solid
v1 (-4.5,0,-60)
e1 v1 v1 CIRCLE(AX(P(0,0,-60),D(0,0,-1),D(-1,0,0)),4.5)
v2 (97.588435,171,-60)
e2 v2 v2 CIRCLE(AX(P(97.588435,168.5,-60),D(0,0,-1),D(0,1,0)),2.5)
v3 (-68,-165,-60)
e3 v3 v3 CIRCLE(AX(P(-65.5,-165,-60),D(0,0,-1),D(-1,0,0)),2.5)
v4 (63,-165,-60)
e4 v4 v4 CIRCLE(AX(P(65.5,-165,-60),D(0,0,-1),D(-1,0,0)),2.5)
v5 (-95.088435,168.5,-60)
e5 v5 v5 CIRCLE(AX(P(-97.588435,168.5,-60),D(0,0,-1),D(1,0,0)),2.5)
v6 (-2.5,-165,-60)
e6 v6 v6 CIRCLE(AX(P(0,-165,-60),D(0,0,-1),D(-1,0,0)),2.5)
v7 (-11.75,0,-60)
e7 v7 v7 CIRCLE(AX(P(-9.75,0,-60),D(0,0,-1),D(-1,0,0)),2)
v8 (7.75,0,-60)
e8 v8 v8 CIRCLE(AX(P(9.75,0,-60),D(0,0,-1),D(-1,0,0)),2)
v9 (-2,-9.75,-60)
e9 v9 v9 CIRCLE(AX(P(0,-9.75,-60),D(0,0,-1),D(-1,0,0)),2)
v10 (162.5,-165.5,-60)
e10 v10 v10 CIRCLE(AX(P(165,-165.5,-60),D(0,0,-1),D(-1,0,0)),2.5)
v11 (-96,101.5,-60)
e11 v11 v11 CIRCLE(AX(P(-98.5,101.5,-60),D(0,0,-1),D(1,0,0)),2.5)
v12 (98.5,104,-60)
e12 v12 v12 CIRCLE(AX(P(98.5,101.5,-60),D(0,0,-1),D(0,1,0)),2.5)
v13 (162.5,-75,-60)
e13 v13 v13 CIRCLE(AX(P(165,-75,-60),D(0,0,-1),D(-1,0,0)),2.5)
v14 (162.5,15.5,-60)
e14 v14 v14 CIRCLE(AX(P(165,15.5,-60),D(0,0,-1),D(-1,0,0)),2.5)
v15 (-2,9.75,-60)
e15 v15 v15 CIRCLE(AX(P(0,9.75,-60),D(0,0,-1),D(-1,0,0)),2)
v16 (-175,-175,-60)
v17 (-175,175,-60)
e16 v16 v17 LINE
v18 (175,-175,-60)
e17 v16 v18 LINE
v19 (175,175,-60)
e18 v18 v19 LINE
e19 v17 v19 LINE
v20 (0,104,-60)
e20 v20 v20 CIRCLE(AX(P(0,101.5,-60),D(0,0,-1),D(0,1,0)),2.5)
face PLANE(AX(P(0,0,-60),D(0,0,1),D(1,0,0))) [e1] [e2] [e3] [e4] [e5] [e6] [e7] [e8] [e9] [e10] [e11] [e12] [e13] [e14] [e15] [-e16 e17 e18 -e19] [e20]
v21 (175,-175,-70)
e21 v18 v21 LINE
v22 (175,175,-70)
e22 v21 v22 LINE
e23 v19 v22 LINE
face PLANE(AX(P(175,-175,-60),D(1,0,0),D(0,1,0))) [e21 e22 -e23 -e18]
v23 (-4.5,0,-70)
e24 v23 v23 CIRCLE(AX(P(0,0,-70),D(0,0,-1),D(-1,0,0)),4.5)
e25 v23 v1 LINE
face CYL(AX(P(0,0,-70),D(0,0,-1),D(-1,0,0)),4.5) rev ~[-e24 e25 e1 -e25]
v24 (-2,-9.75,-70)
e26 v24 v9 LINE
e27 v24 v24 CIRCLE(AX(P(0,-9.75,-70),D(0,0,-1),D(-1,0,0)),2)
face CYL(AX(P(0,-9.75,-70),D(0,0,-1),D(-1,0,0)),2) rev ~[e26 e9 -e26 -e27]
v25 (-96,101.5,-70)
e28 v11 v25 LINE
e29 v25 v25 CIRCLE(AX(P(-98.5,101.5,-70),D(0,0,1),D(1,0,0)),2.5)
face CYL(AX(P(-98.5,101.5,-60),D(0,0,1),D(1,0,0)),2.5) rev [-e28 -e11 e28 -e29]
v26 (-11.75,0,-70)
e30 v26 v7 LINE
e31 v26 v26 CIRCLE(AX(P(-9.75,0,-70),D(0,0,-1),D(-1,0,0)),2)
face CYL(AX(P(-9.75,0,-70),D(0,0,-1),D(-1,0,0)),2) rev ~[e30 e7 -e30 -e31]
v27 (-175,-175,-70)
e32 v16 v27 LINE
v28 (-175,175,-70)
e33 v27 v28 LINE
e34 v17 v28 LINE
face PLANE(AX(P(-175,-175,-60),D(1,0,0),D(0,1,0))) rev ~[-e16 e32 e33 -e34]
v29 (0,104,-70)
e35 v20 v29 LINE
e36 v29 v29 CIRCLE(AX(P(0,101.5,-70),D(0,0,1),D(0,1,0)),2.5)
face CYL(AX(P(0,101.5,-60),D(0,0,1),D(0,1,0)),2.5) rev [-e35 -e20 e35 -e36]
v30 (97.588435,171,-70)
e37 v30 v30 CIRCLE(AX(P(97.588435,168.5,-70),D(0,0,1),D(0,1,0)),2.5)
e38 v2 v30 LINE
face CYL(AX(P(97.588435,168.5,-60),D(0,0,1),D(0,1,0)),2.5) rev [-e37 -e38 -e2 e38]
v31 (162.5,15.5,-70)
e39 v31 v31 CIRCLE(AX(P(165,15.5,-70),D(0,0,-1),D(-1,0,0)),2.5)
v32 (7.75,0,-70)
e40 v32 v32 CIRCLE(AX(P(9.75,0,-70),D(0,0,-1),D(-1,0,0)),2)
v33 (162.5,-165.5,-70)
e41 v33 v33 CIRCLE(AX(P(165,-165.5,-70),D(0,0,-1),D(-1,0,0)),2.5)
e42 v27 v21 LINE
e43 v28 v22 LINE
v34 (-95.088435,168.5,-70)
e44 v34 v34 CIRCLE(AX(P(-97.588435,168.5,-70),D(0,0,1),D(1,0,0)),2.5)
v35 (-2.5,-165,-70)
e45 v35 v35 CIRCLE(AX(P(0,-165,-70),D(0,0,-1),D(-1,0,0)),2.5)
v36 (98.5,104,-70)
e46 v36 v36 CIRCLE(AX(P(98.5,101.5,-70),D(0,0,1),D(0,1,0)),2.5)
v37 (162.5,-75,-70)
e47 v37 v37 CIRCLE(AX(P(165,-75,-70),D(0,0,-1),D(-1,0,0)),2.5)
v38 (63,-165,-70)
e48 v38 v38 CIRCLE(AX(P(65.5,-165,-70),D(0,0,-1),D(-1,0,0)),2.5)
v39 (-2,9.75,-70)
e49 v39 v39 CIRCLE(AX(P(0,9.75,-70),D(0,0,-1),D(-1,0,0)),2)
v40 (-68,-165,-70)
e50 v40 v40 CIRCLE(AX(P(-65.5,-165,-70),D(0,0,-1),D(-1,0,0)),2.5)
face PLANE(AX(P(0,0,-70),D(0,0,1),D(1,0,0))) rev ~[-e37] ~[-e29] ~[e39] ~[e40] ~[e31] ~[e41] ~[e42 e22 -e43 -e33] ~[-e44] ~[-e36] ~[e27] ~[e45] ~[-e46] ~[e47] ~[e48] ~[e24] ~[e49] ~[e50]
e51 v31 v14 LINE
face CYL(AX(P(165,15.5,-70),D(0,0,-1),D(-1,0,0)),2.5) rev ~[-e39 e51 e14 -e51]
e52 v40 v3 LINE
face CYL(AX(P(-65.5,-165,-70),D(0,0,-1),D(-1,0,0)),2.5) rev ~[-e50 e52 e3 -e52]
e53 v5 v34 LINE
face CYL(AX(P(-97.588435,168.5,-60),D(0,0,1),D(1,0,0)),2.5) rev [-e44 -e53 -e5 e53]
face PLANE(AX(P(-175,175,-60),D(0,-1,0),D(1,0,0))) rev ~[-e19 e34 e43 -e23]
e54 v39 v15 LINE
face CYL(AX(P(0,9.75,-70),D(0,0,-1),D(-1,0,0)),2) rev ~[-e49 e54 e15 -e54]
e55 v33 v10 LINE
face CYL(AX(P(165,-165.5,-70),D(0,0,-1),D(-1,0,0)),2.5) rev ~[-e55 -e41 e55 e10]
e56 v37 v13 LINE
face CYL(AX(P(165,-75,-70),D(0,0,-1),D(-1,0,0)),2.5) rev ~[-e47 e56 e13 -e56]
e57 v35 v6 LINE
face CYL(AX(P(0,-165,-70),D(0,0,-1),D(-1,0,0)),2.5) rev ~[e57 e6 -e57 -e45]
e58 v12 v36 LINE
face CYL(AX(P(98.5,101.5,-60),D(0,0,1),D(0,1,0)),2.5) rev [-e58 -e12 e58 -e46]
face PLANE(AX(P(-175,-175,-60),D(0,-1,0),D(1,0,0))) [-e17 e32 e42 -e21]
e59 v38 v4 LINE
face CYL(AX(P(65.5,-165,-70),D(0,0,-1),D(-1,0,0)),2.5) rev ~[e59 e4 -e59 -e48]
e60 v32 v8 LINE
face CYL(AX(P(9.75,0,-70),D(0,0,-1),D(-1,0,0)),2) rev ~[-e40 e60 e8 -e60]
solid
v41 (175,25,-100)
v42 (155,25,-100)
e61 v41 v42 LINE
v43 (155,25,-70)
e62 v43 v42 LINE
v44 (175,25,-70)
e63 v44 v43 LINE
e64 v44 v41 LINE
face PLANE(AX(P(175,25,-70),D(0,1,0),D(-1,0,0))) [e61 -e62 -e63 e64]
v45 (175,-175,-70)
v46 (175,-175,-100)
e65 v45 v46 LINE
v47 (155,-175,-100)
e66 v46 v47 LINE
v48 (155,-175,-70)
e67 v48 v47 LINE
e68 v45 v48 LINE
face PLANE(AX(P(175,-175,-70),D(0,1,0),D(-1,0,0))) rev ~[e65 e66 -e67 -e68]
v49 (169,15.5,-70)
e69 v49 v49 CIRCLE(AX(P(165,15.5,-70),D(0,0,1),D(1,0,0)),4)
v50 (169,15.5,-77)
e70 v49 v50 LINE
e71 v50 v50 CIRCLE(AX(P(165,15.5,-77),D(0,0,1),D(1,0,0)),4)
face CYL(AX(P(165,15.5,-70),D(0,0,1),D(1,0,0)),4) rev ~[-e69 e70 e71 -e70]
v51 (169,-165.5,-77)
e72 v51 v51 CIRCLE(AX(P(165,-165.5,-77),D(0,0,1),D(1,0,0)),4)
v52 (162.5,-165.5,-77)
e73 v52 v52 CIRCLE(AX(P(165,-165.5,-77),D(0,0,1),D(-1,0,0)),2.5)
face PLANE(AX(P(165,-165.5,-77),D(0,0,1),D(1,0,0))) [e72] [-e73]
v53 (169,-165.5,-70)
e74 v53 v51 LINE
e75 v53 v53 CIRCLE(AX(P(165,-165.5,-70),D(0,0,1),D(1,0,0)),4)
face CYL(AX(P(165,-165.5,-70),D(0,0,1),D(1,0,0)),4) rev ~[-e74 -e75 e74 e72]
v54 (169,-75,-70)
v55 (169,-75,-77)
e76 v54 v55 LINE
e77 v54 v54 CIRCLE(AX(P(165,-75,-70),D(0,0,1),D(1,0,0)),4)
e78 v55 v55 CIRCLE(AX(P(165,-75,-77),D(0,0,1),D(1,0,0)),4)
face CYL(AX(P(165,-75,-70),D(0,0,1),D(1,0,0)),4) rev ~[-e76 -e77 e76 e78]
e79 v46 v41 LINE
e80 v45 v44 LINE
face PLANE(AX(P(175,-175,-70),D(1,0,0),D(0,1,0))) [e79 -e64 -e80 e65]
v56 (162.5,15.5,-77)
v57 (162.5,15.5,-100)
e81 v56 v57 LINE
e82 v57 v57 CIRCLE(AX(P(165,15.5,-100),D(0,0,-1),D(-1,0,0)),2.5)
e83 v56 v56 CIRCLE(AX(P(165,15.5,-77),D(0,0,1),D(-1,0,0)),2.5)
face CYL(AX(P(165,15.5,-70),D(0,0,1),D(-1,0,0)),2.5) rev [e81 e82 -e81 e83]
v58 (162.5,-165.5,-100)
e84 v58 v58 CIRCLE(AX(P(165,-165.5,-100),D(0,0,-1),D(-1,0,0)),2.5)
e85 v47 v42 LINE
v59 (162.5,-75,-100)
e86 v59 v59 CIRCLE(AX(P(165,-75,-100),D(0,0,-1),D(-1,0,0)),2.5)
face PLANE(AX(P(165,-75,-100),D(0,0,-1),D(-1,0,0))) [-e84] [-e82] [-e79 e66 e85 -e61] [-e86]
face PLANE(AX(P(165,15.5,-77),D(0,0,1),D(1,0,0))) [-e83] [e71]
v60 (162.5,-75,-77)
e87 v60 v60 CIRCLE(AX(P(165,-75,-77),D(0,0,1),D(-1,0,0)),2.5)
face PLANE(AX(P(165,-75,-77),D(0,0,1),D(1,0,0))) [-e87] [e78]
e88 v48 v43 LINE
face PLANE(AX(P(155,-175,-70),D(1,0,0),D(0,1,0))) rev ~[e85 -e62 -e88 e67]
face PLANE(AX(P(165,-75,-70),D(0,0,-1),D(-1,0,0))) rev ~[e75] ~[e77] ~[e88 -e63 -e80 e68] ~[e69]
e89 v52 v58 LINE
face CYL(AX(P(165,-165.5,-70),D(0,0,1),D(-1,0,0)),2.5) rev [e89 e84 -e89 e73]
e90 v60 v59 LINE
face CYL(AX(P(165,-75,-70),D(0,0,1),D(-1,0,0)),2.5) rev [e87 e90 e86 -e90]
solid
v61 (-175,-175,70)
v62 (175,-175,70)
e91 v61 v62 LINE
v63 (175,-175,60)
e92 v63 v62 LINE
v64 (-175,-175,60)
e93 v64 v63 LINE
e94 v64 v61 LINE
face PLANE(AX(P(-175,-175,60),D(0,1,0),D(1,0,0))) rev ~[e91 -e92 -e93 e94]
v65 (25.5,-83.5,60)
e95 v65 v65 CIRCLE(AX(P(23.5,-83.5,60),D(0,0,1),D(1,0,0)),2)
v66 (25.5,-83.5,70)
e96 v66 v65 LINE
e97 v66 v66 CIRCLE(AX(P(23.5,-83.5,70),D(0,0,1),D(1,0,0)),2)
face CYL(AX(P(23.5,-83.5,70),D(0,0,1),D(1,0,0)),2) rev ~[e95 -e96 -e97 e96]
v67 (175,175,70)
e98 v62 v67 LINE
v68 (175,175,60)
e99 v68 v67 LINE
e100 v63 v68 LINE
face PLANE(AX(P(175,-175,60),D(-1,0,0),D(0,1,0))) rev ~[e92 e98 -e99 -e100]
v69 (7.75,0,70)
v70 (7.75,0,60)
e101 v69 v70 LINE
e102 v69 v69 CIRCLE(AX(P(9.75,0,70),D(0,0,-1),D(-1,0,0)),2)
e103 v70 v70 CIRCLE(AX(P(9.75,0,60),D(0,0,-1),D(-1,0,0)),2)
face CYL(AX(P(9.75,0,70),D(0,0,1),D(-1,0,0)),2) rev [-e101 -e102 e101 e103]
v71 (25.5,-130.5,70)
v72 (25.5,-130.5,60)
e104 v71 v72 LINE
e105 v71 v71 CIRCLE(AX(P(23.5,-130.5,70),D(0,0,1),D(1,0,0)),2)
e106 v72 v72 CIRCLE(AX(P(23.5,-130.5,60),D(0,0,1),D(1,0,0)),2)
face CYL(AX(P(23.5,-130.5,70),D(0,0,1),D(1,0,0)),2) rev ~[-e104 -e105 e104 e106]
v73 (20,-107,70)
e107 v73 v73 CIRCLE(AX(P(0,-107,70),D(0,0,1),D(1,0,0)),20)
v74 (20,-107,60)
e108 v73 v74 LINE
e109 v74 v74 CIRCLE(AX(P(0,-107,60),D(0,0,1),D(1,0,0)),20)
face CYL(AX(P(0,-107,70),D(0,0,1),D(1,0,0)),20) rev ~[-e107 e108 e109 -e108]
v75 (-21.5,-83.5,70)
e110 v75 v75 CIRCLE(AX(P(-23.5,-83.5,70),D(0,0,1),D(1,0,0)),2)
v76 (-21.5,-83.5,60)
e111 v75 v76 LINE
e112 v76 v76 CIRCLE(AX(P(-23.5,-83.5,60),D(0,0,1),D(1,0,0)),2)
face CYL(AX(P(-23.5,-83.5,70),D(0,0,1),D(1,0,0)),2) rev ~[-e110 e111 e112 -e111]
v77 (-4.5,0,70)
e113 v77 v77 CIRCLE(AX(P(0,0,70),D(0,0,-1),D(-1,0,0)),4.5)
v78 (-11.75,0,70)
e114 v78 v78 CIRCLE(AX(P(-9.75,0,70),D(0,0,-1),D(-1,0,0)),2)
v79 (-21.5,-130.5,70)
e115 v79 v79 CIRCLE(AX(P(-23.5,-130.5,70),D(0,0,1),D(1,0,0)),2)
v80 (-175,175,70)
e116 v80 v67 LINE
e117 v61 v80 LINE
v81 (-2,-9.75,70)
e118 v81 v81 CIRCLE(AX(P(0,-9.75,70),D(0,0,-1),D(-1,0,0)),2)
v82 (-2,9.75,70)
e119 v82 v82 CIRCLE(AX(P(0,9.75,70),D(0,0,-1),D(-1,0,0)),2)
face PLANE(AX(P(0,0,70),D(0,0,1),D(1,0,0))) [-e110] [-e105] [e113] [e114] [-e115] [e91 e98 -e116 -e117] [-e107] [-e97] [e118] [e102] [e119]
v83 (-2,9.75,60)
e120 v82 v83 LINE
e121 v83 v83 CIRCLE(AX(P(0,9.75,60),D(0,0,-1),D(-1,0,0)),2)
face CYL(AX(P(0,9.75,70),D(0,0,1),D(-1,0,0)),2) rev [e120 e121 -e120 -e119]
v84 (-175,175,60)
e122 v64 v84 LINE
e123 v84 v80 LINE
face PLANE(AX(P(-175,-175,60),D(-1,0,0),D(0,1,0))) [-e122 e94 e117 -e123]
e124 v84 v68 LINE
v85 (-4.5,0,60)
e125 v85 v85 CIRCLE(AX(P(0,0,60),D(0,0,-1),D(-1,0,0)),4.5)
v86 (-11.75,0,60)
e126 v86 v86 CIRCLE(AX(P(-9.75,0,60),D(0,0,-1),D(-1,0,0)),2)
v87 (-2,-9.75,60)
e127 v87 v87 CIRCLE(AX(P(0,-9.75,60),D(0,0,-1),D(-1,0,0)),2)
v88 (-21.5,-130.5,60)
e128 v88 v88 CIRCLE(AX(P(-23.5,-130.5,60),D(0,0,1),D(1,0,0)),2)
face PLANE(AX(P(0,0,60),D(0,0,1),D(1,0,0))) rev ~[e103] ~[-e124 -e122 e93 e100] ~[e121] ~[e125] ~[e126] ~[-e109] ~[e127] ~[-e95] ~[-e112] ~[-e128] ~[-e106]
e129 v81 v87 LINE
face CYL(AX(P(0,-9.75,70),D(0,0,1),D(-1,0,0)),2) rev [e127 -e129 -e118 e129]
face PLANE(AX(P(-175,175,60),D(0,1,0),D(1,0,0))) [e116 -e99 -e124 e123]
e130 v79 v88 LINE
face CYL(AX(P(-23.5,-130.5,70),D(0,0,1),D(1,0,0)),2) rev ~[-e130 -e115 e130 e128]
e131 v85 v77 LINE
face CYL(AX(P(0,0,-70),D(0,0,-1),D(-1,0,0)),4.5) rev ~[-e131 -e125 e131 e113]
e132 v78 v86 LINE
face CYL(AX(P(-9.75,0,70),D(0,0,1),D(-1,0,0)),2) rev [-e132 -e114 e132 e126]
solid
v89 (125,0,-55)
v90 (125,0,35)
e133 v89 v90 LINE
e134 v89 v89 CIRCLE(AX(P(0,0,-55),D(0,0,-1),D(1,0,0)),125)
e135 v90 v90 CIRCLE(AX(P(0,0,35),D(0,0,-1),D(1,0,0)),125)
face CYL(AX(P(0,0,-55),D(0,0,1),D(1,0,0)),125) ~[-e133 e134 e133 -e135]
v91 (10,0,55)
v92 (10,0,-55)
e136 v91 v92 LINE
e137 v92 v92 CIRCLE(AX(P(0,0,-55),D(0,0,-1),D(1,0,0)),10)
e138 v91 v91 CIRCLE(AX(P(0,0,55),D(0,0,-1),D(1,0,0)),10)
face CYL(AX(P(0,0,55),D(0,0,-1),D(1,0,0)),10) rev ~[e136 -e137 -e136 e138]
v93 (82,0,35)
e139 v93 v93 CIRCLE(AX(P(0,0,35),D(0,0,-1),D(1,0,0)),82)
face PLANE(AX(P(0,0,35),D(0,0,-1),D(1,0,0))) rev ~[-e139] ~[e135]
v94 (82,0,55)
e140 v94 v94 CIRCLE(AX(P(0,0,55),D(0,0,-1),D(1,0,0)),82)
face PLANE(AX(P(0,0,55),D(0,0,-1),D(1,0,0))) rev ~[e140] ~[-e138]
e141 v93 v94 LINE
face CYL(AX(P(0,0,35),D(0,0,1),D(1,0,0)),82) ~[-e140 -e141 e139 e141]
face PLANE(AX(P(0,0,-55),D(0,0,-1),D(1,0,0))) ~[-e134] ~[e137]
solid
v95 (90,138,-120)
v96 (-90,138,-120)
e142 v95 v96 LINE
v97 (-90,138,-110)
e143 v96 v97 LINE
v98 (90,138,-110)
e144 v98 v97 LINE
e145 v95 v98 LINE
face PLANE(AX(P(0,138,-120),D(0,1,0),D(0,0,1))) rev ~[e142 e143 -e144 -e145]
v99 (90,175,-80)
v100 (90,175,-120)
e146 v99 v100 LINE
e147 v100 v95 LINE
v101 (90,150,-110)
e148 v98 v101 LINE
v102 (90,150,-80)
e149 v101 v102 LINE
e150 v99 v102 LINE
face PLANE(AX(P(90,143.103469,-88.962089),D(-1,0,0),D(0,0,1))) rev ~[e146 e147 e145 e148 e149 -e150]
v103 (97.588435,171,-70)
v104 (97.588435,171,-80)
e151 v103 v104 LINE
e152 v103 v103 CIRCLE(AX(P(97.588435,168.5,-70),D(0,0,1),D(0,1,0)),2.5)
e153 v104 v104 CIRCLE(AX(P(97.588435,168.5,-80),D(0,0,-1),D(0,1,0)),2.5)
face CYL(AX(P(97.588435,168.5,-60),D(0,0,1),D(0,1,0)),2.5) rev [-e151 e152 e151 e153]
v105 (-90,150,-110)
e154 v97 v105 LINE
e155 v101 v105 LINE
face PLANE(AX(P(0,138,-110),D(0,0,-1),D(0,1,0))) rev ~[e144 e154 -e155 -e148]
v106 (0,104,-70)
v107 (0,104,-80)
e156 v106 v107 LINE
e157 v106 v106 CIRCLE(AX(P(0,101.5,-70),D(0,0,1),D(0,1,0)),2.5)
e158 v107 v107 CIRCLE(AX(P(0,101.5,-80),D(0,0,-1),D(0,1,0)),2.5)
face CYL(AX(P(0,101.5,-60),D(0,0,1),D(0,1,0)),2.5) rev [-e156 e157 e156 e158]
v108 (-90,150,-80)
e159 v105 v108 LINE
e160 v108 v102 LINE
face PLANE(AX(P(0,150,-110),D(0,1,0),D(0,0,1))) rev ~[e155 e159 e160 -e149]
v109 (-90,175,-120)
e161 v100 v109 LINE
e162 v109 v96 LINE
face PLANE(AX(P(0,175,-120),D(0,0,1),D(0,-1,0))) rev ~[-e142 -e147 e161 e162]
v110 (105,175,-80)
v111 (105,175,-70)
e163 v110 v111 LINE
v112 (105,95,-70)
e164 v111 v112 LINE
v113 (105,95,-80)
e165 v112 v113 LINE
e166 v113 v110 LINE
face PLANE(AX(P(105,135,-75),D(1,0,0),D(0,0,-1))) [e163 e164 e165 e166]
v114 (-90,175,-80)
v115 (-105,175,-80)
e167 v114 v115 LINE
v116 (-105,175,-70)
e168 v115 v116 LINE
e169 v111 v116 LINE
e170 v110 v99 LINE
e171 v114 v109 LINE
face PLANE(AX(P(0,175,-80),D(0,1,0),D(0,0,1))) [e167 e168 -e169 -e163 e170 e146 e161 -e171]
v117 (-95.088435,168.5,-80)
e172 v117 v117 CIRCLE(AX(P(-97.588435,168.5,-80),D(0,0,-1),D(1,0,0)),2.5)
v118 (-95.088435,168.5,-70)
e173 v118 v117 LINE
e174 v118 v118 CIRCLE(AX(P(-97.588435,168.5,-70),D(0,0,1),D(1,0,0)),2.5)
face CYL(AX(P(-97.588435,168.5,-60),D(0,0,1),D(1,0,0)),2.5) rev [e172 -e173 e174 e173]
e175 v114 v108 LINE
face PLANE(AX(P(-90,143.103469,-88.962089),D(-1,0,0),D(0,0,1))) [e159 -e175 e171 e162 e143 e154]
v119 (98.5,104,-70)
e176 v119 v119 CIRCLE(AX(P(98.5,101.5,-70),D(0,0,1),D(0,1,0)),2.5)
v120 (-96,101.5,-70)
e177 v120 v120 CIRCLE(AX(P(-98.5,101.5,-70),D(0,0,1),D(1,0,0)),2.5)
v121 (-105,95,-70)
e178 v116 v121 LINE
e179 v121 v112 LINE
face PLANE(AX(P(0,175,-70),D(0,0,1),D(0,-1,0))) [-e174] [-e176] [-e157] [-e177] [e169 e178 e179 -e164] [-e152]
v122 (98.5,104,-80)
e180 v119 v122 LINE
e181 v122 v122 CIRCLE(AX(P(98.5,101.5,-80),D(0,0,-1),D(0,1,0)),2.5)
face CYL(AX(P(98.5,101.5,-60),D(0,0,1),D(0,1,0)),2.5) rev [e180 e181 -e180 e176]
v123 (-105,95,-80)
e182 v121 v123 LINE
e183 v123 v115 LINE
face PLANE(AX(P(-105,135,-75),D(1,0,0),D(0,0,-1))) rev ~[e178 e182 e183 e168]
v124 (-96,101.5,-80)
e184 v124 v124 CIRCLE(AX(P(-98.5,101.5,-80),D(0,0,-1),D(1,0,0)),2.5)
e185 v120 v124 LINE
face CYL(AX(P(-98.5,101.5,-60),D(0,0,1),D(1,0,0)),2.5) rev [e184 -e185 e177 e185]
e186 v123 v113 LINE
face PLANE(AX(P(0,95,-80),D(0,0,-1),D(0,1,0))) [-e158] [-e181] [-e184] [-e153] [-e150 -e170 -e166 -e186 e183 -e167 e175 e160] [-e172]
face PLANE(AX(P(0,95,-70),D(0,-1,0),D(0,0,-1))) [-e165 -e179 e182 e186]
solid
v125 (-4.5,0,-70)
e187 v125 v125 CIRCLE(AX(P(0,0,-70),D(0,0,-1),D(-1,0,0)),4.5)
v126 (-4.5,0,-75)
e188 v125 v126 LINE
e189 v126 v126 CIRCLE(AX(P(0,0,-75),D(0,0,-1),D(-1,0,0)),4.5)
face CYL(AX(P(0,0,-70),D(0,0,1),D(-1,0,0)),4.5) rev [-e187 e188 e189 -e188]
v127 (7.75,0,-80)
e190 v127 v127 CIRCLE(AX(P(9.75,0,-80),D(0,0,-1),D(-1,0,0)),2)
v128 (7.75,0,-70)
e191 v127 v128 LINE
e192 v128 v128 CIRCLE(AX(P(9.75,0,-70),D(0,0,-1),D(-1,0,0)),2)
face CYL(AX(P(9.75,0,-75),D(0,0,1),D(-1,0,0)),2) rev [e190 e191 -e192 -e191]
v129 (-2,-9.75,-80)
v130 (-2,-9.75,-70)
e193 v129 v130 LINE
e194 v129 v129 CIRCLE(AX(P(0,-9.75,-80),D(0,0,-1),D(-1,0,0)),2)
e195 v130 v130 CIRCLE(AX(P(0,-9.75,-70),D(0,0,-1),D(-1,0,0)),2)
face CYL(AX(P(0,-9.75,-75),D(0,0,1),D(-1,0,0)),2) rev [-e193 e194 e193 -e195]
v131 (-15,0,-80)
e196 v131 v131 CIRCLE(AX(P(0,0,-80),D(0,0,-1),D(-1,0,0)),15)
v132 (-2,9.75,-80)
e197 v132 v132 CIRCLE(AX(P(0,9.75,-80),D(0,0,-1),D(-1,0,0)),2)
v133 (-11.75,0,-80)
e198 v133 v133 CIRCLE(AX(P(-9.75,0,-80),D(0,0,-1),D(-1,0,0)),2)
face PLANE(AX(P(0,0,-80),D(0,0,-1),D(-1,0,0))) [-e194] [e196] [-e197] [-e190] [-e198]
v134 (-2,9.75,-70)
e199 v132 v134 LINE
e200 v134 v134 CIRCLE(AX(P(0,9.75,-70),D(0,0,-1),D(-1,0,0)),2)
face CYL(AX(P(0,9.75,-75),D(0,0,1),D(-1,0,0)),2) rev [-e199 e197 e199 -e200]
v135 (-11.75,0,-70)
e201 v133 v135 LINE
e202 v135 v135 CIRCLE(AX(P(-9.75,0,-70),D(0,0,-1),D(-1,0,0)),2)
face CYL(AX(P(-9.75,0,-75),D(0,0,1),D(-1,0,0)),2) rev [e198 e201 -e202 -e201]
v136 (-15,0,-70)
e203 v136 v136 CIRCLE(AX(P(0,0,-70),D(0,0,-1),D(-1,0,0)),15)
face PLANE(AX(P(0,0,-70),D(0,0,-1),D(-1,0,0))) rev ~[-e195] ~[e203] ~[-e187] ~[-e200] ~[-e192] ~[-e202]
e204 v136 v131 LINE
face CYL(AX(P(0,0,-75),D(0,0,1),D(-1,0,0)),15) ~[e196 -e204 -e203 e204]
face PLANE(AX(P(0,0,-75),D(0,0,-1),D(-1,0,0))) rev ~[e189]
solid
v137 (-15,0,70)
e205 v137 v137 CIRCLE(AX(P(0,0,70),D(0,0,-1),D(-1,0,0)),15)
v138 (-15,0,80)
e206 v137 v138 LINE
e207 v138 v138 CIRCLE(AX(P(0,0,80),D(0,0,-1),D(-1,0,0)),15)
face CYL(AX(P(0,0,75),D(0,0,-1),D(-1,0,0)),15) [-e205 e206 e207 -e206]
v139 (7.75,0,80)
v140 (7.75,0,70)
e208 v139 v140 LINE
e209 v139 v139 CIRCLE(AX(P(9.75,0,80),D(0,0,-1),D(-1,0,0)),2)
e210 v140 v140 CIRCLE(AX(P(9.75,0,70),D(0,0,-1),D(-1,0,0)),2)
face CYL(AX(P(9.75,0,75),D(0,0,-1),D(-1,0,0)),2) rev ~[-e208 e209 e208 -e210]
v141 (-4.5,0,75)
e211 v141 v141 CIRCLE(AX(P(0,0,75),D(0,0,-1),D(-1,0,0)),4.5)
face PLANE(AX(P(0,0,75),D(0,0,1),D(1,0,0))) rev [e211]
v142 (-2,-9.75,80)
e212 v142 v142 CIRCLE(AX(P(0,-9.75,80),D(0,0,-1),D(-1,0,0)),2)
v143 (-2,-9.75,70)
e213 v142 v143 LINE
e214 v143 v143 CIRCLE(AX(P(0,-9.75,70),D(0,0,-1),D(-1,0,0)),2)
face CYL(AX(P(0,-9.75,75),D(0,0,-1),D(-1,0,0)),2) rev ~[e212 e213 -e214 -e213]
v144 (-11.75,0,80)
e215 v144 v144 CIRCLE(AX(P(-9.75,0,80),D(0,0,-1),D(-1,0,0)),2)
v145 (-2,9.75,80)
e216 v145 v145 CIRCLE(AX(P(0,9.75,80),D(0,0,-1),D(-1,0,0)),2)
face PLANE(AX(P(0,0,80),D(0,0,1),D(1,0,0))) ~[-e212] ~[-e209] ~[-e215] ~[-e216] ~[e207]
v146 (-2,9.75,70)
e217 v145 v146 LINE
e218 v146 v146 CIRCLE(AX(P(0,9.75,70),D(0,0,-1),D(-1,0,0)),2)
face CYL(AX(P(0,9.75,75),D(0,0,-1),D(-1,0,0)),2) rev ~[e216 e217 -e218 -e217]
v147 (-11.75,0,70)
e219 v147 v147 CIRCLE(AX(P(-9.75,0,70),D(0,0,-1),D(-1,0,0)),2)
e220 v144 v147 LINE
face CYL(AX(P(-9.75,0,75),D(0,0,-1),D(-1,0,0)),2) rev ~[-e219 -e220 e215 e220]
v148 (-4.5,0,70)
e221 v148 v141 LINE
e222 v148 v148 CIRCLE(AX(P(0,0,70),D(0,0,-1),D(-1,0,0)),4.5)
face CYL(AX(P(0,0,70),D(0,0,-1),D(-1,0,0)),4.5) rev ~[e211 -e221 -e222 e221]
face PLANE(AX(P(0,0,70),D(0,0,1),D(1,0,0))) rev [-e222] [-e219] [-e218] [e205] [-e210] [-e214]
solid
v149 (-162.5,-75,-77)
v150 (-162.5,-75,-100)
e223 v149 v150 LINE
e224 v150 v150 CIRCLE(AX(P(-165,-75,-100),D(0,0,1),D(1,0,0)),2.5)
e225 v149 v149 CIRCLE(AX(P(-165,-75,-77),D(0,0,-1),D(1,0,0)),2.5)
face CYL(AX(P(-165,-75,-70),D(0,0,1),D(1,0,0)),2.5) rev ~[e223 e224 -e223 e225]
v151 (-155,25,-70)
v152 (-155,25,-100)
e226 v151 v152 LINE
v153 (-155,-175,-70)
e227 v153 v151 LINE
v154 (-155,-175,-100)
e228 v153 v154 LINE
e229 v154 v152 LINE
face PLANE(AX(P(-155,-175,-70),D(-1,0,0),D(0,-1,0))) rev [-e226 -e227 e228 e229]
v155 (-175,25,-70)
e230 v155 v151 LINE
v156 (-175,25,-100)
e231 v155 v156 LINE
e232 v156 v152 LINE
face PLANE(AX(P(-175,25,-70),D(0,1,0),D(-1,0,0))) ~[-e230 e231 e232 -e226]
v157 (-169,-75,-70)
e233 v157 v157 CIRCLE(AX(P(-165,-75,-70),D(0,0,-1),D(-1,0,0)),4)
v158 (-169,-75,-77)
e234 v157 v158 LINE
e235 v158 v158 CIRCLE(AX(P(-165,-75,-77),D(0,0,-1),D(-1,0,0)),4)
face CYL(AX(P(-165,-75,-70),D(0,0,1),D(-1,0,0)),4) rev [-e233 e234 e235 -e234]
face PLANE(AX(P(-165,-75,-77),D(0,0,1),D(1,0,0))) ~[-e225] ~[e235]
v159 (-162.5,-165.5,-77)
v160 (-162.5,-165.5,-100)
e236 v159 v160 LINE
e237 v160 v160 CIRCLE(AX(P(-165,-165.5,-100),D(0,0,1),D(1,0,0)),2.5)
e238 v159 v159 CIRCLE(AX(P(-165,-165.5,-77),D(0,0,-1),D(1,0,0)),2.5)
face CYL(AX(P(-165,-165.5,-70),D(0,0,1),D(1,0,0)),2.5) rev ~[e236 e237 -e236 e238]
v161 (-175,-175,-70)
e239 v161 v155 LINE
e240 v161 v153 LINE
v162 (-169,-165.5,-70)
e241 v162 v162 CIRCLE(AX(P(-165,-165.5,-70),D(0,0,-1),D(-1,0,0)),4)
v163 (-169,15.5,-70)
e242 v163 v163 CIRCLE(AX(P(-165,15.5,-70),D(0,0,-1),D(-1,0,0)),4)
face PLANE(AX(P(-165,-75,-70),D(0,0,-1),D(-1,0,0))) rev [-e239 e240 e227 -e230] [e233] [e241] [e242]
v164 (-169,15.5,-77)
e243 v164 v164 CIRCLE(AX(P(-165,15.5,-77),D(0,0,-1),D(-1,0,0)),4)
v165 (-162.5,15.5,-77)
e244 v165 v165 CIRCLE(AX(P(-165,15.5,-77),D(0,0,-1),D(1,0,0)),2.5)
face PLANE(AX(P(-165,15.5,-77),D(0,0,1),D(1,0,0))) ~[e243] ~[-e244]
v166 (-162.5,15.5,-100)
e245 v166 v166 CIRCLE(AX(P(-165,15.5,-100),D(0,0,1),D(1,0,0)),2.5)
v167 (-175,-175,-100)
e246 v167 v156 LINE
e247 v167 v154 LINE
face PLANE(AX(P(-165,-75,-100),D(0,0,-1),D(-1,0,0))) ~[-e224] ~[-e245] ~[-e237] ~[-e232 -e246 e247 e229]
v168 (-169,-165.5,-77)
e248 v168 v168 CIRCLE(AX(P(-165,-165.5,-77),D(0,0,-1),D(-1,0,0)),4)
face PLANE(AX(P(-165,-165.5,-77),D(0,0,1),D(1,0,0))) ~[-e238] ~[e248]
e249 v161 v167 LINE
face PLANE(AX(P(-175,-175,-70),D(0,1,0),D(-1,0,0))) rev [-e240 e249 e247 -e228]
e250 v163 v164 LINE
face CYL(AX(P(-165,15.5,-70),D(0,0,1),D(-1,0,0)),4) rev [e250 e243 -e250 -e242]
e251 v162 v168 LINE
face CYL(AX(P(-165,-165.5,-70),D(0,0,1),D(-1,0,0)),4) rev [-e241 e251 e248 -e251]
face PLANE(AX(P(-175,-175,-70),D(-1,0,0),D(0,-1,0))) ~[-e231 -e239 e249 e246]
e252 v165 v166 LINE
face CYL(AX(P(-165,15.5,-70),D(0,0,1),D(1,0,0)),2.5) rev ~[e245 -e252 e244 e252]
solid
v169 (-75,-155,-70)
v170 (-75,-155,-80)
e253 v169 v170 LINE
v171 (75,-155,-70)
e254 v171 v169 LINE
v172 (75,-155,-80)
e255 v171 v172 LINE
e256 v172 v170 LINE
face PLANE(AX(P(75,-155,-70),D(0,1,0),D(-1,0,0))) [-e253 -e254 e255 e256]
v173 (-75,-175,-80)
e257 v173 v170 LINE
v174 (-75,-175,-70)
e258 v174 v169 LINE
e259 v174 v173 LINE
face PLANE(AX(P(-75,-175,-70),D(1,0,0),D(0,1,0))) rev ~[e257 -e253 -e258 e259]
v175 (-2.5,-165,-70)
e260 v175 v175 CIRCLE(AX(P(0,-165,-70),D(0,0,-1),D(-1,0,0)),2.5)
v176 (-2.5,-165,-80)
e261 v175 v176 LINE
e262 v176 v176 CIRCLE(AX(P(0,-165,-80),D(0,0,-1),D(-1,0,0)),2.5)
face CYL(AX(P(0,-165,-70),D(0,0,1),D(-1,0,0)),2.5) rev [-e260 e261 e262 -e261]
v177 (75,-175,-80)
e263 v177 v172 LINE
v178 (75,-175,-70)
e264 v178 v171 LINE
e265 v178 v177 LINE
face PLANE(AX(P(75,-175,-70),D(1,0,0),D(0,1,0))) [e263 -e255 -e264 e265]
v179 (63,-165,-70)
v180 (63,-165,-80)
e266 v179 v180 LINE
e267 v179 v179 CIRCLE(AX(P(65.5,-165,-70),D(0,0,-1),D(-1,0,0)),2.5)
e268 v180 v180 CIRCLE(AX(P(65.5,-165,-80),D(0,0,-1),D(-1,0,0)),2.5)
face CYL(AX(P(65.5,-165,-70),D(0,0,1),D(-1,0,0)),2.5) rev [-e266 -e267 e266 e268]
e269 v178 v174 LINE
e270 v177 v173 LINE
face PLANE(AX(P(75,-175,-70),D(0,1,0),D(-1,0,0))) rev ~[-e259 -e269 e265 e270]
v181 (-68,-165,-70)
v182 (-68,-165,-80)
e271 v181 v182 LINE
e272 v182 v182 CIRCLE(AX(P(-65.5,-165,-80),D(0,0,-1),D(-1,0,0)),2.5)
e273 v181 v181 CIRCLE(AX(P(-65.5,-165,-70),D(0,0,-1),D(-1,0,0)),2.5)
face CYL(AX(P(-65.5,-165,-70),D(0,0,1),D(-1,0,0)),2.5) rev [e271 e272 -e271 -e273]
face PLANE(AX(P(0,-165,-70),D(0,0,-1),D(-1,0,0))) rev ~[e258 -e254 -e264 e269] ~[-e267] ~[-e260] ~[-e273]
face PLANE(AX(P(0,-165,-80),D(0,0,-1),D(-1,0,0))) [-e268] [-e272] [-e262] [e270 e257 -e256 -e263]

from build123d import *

# Parameters (mm, degrees)
BOSS_EXTRUDE1_START = 60
SKETCH1_W           = 350
SKETCH1_H           = 350
BOSS_EXTRUDE1_DEPTH = 10
BOSS_EXTRUDE2_START = -60
SKETCH1_2_W         = 350
SKETCH1_2_H         = 350
BOSS_EXTRUDE2_DEPTH = 10
BOSS_EXTRUDE3_DEPTH = 90
BOSS_EXTRUDE4_DEPTH = 105
SKETCH4_R           = 2.5
CUT_EXTRUDE1_DEPTH  = 10
SKETCH4_4_W         = 20
SKETCH4_4_H         = 200
SKETCH4_4_R         = 2.5
BOSS_EXTRUDE5_DEPTH = 30
SKETCH5_R           = 4
CUT_EXTRUDE2_DEPTH  = 7
SKETCH6_R           = 4.5
CUT_EXTRUDE3_DEPTH  = 285.341344162
SKETCH6_3_R         = 2
CUT_EXTRUDE4_DEPTH  = 10
SKETCH6_4_R         = 15
SKETCH6_4_R_2       = 4.5
SKETCH6_4_R_3       = 2
BOSS_EXTRUDE6_DEPTH = 5
BOSS_EXTRUDE7_START = 5
SKETCH6_5_R         = 15
SKETCH6_5_R_2       = 2
BOSS_EXTRUDE7_DEPTH = 5
SKETCH7_R           = 2.5
CUT_EXTRUDE5_DEPTH  = 10
SKETCH7_3_W         = 150
SKETCH7_3_H         = 20
SKETCH7_3_R         = 2.5
BOSS_EXTRUDE8_DEPTH = 10
CUT_EXTRUDE6_START  = 70
SKETCH8_R           = 2
SKETCH8_R_2         = 20
CUT_EXTRUDE6_DEPTH  = 125
CUT_EXTRUDE7_START  = -20
SKETCH9_R           = 2.5
CUT_EXTRUDE7_DEPTH  = 20


with BuildPart() as part:
    # Sketch1 → Boss-Extrude1 (new body)
    with BuildSketch(Plane.XY.offset(BOSS_EXTRUDE1_START)):
        Rectangle(SKETCH1_W, SKETCH1_H)
    extrude(amount=BOSS_EXTRUDE1_DEPTH)


with BuildPart() as body_2:
    # Sketch1<2> → Boss-Extrude2 (new body)
    with BuildSketch(Plane.XY.offset(BOSS_EXTRUDE2_START)):
        Rectangle(SKETCH1_2_W, SKETCH1_2_H)
    extrude(amount=-BOSS_EXTRUDE2_DEPTH)

    # Sketch4 → Cut-Extrude1 (cut)
    with BuildSketch(Plane(origin=(0, 0, -70), x_dir=(-1, 0, 0), z_dir=(0, 0, -1))):
        with Locations((-165, 15.5)):
            Circle(SKETCH4_R)
        with Locations((-165, -165.5)):
            Circle(SKETCH4_R)
        with Locations((-165, -75)):
            Circle(SKETCH4_R)
    extrude(amount=-CUT_EXTRUDE1_DEPTH, mode=Mode.SUBTRACT)


with BuildPart() as body_3:
    # Sketch2 → Revolve1 (revolve)
    with BuildSketch(Plane(origin=(0, 0, 0), x_dir=(1, 0, 0), z_dir=(0, 1, 0)), mode=Mode.PRIVATE) as revolve1_sk:
        Polygon((-125, 55), (-125, -35), (-82, -35), (-82, -55), (-10, -55), (-10, 55), align=None)
    revolve(revolve1_sk.sketch.rotate(Axis((0, 0, 59.553807794), (0, 0, -1)), 180), axis=Axis((0, 0, 59.553807794), (0, 0, -1)))


with BuildPart() as body_4:
    # Sketch3 → Boss-Extrude3 (new, symmetric)
    with BuildSketch(Plane(origin=(0, 0, 0), x_dir=(0, 0, -1), z_dir=(1, 0, 0))):
        Polygon((70, 95), (70, 175), (120, 175), (120, 175.084303096), (120, 138), (110, 138), (110, 150), (80, 150), (80, 95), align=None)
    extrude(amount=BOSS_EXTRUDE3_DEPTH, both=True)

    # Sketch3<3> → Boss-Extrude4 (add, symmetric)
    with BuildSketch(Plane(origin=(0, 0, 0), x_dir=(0, 0, -1), z_dir=(1, 0, 0))):
        Polygon((70, 175), (70, 95), (80, 95), (80, 150), (80, 175), align=None)
    extrude(amount=BOSS_EXTRUDE4_DEPTH, both=True)


with BuildPart() as body_5:
    # Sketch4<4> → Boss-Extrude5 (new body)
    with BuildSketch(Plane(origin=(0, 0, -70), x_dir=(-1, 0, 0), z_dir=(0, 0, -1))):
        with Locations((-165, -75)):
            Rectangle(SKETCH4_4_W, SKETCH4_4_H)
        with Locations((-165, 15.5)):
            Circle(SKETCH4_4_R, mode=Mode.SUBTRACT)
        with Locations((-165, -165.5)):
            Circle(SKETCH4_4_R, mode=Mode.SUBTRACT)
        with Locations((-165, -75)):
            Circle(SKETCH4_4_R, mode=Mode.SUBTRACT)
    extrude(amount=BOSS_EXTRUDE5_DEPTH)

    # Sketch5 → Cut-Extrude2 (cut)
    with BuildSketch(Plane.XY.offset(-70)):
        with Locations((165, 15.5)):
            Circle(SKETCH5_R)
        with Locations((165, -75)):
            Circle(SKETCH5_R)
        with Locations((165, -165.5)):
            Circle(SKETCH5_R)
    extrude(amount=-CUT_EXTRUDE2_DEPTH, mode=Mode.SUBTRACT)


with BuildPart() as body_6:
    # Mirror4: mirrored copy
    add(body_5.part.mirror(Plane(origin=(0, 0, 0), x_dir=(0, 0, 1), z_dir=(1, 0, 0))))


with BuildPart() as cut_extrude3_tool:
    # Sketch6 → Cut-Extrude3 (new, through all)
    with BuildSketch(Plane(origin=(0, 0, -70), x_dir=(-1, 0, 0), z_dir=(0, 0, -1))):
        Circle(SKETCH6_R)
    extrude(amount=-CUT_EXTRUDE3_DEPTH)


with BuildPart() as part_1:
    add(part.part)

    # Cut-Extrude3: cut by cut_extrude3_tool
    add(cut_extrude3_tool.part, mode=Mode.SUBTRACT)


with BuildPart() as body_2_1:
    add(body_2.part)

    # Cut-Extrude3: cut by cut_extrude3_tool
    add(cut_extrude3_tool.part, mode=Mode.SUBTRACT)

    # Sketch6<3> → Cut-Extrude4 (cut)
    with BuildSketch(Plane(origin=(0, 0, -70), x_dir=(-1, 0, 0), z_dir=(0, 0, -1))):
        with Locations((0, 9.75)):
            Circle(SKETCH6_3_R)
        with Locations((9.75, 0)):
            Circle(SKETCH6_3_R)
        with Locations((0, -9.75)):
            Circle(SKETCH6_3_R)
        with Locations((-9.75, 0)):
            Circle(SKETCH6_3_R)
    cut_extrude4 = extrude(amount=-CUT_EXTRUDE4_DEPTH, mode=Mode.SUBTRACT)

    # Sketch7 → Cut-Extrude5 (cut)
    with BuildSketch(Plane(origin=(0, 0, -70), x_dir=(-1, 0, 0), z_dir=(0, 0, -1))):
        with Locations((-65.5, -165)):
            Circle(SKETCH7_R)
        with Locations((65.5, -165)):
            Circle(SKETCH7_R)
        with Locations((0, -165)):
            Circle(SKETCH7_R)
    extrude(amount=-CUT_EXTRUDE5_DEPTH, mode=Mode.SUBTRACT)


with BuildPart() as body_7:
    # Sketch6<4> → Boss-Extrude6 (new body)
    with BuildSketch(Plane(origin=(0, 0, -70), x_dir=(-1, 0, 0), z_dir=(0, 0, -1))):
        Circle(SKETCH6_4_R)
        Circle(SKETCH6_4_R_2, mode=Mode.SUBTRACT)
        with Locations((0, 9.75)):
            Circle(SKETCH6_4_R_3, mode=Mode.SUBTRACT)
        with Locations((9.75, 0)):
            Circle(SKETCH6_4_R_3, mode=Mode.SUBTRACT)
        with Locations((0, -9.75)):
            Circle(SKETCH6_4_R_3, mode=Mode.SUBTRACT)
        with Locations((-9.75, 0)):
            Circle(SKETCH6_4_R_3, mode=Mode.SUBTRACT)
    extrude(amount=BOSS_EXTRUDE6_DEPTH)

    # Sketch6<5> → Boss-Extrude7 (add)
    with BuildSketch(Plane(origin=(0, 0, -70), x_dir=(-1, 0, 0), z_dir=(0, 0, -1)).offset(BOSS_EXTRUDE7_START)):
        Circle(SKETCH6_5_R)
        with Locations((0, 9.75)):
            Circle(SKETCH6_5_R_2, mode=Mode.SUBTRACT)
        with Locations((9.75, 0)):
            Circle(SKETCH6_5_R_2, mode=Mode.SUBTRACT)
        with Locations((0, -9.75)):
            Circle(SKETCH6_5_R_2, mode=Mode.SUBTRACT)
        with Locations((-9.75, 0)):
            Circle(SKETCH6_5_R_2, mode=Mode.SUBTRACT)
    extrude(amount=BOSS_EXTRUDE7_DEPTH)


with BuildPart() as part_2:
    add(part_1.part)

    # Mirror2: Cut-Extrude4 across plane
    add(cut_extrude4.mirror(Plane.XY), mode=Mode.SUBTRACT)

    # Sketch8 → Cut-Extrude6 (cut)
    with BuildSketch(Plane.XY.offset(CUT_EXTRUDE6_START)):
        with Locations((-23.5, -83.5)):
            Circle(SKETCH8_R)
        with Locations((23.5, -83.5)):
            Circle(SKETCH8_R)
        with Locations((-23.5, -130.5)):
            Circle(SKETCH8_R)
        with Locations((23.5, -130.5)):
            Circle(SKETCH8_R)
        with Locations((0, -107)):
            Circle(SKETCH8_R_2)
    extrude(amount=-CUT_EXTRUDE6_DEPTH, mode=Mode.SUBTRACT)


with BuildPart() as body_8:
    # Mirror3: mirrored copy
    add(body_7.part.mirror(Plane.XY))


with BuildPart() as body_9:
    # Sketch7<3> → Boss-Extrude8 (new body)
    with BuildSketch(Plane(origin=(0, 0, -70), x_dir=(-1, 0, 0), z_dir=(0, 0, -1))):
        with Locations((0, -165)):
            Rectangle(SKETCH7_3_W, SKETCH7_3_H)
        with Locations((-65.5, -165)):
            Circle(SKETCH7_3_R, mode=Mode.SUBTRACT)
        with Locations((65.5, -165)):
            Circle(SKETCH7_3_R, mode=Mode.SUBTRACT)
        with Locations((0, -165)):
            Circle(SKETCH7_3_R, mode=Mode.SUBTRACT)
    extrude(amount=BOSS_EXTRUDE8_DEPTH)


with BuildPart() as cut_extrude7_tool:
    # Sketch9 → Cut-Extrude7 (new body)
    with BuildSketch(Plane(origin=(0, 0, -80), x_dir=(-1, 0, 0), z_dir=(0, 0, -1)).offset(CUT_EXTRUDE7_START)):
        with Locations(Location((-97.588435374, 168.5, 0), (0, 0, 90))):
            Circle(SKETCH9_R)
        with Locations(Location((-98.5, 101.5, 0), (0, 0, 90))):
            Circle(SKETCH9_R)
        with Locations(Location((0, 101.5, 0), (0, 0, 90))):
            Circle(SKETCH9_R)
        with Locations(Location((97.588435374, 168.5, 0), (0, 0, 180))):
            Circle(SKETCH9_R)
        with Locations(Location((98.5, 101.5, 0), (0, 0, 180))):
            Circle(SKETCH9_R)
    extrude(amount=CUT_EXTRUDE7_DEPTH)


with BuildPart() as body_2_2:
    add(body_2_1.part)

    # Cut-Extrude7: cut by cut_extrude7_tool
    add(cut_extrude7_tool.part, mode=Mode.SUBTRACT)


with BuildPart() as body_4_1:
    add(body_4.part)

    # Cut-Extrude7: cut by cut_extrude7_tool
    add(cut_extrude7_tool.part, mode=Mode.SUBTRACT)


solid = Compound([body_3.part, body_5.part, body_6.part, body_7.part, part_2.part, body_8.part, body_9.part, body_2_2.part, body_4_1.part])
